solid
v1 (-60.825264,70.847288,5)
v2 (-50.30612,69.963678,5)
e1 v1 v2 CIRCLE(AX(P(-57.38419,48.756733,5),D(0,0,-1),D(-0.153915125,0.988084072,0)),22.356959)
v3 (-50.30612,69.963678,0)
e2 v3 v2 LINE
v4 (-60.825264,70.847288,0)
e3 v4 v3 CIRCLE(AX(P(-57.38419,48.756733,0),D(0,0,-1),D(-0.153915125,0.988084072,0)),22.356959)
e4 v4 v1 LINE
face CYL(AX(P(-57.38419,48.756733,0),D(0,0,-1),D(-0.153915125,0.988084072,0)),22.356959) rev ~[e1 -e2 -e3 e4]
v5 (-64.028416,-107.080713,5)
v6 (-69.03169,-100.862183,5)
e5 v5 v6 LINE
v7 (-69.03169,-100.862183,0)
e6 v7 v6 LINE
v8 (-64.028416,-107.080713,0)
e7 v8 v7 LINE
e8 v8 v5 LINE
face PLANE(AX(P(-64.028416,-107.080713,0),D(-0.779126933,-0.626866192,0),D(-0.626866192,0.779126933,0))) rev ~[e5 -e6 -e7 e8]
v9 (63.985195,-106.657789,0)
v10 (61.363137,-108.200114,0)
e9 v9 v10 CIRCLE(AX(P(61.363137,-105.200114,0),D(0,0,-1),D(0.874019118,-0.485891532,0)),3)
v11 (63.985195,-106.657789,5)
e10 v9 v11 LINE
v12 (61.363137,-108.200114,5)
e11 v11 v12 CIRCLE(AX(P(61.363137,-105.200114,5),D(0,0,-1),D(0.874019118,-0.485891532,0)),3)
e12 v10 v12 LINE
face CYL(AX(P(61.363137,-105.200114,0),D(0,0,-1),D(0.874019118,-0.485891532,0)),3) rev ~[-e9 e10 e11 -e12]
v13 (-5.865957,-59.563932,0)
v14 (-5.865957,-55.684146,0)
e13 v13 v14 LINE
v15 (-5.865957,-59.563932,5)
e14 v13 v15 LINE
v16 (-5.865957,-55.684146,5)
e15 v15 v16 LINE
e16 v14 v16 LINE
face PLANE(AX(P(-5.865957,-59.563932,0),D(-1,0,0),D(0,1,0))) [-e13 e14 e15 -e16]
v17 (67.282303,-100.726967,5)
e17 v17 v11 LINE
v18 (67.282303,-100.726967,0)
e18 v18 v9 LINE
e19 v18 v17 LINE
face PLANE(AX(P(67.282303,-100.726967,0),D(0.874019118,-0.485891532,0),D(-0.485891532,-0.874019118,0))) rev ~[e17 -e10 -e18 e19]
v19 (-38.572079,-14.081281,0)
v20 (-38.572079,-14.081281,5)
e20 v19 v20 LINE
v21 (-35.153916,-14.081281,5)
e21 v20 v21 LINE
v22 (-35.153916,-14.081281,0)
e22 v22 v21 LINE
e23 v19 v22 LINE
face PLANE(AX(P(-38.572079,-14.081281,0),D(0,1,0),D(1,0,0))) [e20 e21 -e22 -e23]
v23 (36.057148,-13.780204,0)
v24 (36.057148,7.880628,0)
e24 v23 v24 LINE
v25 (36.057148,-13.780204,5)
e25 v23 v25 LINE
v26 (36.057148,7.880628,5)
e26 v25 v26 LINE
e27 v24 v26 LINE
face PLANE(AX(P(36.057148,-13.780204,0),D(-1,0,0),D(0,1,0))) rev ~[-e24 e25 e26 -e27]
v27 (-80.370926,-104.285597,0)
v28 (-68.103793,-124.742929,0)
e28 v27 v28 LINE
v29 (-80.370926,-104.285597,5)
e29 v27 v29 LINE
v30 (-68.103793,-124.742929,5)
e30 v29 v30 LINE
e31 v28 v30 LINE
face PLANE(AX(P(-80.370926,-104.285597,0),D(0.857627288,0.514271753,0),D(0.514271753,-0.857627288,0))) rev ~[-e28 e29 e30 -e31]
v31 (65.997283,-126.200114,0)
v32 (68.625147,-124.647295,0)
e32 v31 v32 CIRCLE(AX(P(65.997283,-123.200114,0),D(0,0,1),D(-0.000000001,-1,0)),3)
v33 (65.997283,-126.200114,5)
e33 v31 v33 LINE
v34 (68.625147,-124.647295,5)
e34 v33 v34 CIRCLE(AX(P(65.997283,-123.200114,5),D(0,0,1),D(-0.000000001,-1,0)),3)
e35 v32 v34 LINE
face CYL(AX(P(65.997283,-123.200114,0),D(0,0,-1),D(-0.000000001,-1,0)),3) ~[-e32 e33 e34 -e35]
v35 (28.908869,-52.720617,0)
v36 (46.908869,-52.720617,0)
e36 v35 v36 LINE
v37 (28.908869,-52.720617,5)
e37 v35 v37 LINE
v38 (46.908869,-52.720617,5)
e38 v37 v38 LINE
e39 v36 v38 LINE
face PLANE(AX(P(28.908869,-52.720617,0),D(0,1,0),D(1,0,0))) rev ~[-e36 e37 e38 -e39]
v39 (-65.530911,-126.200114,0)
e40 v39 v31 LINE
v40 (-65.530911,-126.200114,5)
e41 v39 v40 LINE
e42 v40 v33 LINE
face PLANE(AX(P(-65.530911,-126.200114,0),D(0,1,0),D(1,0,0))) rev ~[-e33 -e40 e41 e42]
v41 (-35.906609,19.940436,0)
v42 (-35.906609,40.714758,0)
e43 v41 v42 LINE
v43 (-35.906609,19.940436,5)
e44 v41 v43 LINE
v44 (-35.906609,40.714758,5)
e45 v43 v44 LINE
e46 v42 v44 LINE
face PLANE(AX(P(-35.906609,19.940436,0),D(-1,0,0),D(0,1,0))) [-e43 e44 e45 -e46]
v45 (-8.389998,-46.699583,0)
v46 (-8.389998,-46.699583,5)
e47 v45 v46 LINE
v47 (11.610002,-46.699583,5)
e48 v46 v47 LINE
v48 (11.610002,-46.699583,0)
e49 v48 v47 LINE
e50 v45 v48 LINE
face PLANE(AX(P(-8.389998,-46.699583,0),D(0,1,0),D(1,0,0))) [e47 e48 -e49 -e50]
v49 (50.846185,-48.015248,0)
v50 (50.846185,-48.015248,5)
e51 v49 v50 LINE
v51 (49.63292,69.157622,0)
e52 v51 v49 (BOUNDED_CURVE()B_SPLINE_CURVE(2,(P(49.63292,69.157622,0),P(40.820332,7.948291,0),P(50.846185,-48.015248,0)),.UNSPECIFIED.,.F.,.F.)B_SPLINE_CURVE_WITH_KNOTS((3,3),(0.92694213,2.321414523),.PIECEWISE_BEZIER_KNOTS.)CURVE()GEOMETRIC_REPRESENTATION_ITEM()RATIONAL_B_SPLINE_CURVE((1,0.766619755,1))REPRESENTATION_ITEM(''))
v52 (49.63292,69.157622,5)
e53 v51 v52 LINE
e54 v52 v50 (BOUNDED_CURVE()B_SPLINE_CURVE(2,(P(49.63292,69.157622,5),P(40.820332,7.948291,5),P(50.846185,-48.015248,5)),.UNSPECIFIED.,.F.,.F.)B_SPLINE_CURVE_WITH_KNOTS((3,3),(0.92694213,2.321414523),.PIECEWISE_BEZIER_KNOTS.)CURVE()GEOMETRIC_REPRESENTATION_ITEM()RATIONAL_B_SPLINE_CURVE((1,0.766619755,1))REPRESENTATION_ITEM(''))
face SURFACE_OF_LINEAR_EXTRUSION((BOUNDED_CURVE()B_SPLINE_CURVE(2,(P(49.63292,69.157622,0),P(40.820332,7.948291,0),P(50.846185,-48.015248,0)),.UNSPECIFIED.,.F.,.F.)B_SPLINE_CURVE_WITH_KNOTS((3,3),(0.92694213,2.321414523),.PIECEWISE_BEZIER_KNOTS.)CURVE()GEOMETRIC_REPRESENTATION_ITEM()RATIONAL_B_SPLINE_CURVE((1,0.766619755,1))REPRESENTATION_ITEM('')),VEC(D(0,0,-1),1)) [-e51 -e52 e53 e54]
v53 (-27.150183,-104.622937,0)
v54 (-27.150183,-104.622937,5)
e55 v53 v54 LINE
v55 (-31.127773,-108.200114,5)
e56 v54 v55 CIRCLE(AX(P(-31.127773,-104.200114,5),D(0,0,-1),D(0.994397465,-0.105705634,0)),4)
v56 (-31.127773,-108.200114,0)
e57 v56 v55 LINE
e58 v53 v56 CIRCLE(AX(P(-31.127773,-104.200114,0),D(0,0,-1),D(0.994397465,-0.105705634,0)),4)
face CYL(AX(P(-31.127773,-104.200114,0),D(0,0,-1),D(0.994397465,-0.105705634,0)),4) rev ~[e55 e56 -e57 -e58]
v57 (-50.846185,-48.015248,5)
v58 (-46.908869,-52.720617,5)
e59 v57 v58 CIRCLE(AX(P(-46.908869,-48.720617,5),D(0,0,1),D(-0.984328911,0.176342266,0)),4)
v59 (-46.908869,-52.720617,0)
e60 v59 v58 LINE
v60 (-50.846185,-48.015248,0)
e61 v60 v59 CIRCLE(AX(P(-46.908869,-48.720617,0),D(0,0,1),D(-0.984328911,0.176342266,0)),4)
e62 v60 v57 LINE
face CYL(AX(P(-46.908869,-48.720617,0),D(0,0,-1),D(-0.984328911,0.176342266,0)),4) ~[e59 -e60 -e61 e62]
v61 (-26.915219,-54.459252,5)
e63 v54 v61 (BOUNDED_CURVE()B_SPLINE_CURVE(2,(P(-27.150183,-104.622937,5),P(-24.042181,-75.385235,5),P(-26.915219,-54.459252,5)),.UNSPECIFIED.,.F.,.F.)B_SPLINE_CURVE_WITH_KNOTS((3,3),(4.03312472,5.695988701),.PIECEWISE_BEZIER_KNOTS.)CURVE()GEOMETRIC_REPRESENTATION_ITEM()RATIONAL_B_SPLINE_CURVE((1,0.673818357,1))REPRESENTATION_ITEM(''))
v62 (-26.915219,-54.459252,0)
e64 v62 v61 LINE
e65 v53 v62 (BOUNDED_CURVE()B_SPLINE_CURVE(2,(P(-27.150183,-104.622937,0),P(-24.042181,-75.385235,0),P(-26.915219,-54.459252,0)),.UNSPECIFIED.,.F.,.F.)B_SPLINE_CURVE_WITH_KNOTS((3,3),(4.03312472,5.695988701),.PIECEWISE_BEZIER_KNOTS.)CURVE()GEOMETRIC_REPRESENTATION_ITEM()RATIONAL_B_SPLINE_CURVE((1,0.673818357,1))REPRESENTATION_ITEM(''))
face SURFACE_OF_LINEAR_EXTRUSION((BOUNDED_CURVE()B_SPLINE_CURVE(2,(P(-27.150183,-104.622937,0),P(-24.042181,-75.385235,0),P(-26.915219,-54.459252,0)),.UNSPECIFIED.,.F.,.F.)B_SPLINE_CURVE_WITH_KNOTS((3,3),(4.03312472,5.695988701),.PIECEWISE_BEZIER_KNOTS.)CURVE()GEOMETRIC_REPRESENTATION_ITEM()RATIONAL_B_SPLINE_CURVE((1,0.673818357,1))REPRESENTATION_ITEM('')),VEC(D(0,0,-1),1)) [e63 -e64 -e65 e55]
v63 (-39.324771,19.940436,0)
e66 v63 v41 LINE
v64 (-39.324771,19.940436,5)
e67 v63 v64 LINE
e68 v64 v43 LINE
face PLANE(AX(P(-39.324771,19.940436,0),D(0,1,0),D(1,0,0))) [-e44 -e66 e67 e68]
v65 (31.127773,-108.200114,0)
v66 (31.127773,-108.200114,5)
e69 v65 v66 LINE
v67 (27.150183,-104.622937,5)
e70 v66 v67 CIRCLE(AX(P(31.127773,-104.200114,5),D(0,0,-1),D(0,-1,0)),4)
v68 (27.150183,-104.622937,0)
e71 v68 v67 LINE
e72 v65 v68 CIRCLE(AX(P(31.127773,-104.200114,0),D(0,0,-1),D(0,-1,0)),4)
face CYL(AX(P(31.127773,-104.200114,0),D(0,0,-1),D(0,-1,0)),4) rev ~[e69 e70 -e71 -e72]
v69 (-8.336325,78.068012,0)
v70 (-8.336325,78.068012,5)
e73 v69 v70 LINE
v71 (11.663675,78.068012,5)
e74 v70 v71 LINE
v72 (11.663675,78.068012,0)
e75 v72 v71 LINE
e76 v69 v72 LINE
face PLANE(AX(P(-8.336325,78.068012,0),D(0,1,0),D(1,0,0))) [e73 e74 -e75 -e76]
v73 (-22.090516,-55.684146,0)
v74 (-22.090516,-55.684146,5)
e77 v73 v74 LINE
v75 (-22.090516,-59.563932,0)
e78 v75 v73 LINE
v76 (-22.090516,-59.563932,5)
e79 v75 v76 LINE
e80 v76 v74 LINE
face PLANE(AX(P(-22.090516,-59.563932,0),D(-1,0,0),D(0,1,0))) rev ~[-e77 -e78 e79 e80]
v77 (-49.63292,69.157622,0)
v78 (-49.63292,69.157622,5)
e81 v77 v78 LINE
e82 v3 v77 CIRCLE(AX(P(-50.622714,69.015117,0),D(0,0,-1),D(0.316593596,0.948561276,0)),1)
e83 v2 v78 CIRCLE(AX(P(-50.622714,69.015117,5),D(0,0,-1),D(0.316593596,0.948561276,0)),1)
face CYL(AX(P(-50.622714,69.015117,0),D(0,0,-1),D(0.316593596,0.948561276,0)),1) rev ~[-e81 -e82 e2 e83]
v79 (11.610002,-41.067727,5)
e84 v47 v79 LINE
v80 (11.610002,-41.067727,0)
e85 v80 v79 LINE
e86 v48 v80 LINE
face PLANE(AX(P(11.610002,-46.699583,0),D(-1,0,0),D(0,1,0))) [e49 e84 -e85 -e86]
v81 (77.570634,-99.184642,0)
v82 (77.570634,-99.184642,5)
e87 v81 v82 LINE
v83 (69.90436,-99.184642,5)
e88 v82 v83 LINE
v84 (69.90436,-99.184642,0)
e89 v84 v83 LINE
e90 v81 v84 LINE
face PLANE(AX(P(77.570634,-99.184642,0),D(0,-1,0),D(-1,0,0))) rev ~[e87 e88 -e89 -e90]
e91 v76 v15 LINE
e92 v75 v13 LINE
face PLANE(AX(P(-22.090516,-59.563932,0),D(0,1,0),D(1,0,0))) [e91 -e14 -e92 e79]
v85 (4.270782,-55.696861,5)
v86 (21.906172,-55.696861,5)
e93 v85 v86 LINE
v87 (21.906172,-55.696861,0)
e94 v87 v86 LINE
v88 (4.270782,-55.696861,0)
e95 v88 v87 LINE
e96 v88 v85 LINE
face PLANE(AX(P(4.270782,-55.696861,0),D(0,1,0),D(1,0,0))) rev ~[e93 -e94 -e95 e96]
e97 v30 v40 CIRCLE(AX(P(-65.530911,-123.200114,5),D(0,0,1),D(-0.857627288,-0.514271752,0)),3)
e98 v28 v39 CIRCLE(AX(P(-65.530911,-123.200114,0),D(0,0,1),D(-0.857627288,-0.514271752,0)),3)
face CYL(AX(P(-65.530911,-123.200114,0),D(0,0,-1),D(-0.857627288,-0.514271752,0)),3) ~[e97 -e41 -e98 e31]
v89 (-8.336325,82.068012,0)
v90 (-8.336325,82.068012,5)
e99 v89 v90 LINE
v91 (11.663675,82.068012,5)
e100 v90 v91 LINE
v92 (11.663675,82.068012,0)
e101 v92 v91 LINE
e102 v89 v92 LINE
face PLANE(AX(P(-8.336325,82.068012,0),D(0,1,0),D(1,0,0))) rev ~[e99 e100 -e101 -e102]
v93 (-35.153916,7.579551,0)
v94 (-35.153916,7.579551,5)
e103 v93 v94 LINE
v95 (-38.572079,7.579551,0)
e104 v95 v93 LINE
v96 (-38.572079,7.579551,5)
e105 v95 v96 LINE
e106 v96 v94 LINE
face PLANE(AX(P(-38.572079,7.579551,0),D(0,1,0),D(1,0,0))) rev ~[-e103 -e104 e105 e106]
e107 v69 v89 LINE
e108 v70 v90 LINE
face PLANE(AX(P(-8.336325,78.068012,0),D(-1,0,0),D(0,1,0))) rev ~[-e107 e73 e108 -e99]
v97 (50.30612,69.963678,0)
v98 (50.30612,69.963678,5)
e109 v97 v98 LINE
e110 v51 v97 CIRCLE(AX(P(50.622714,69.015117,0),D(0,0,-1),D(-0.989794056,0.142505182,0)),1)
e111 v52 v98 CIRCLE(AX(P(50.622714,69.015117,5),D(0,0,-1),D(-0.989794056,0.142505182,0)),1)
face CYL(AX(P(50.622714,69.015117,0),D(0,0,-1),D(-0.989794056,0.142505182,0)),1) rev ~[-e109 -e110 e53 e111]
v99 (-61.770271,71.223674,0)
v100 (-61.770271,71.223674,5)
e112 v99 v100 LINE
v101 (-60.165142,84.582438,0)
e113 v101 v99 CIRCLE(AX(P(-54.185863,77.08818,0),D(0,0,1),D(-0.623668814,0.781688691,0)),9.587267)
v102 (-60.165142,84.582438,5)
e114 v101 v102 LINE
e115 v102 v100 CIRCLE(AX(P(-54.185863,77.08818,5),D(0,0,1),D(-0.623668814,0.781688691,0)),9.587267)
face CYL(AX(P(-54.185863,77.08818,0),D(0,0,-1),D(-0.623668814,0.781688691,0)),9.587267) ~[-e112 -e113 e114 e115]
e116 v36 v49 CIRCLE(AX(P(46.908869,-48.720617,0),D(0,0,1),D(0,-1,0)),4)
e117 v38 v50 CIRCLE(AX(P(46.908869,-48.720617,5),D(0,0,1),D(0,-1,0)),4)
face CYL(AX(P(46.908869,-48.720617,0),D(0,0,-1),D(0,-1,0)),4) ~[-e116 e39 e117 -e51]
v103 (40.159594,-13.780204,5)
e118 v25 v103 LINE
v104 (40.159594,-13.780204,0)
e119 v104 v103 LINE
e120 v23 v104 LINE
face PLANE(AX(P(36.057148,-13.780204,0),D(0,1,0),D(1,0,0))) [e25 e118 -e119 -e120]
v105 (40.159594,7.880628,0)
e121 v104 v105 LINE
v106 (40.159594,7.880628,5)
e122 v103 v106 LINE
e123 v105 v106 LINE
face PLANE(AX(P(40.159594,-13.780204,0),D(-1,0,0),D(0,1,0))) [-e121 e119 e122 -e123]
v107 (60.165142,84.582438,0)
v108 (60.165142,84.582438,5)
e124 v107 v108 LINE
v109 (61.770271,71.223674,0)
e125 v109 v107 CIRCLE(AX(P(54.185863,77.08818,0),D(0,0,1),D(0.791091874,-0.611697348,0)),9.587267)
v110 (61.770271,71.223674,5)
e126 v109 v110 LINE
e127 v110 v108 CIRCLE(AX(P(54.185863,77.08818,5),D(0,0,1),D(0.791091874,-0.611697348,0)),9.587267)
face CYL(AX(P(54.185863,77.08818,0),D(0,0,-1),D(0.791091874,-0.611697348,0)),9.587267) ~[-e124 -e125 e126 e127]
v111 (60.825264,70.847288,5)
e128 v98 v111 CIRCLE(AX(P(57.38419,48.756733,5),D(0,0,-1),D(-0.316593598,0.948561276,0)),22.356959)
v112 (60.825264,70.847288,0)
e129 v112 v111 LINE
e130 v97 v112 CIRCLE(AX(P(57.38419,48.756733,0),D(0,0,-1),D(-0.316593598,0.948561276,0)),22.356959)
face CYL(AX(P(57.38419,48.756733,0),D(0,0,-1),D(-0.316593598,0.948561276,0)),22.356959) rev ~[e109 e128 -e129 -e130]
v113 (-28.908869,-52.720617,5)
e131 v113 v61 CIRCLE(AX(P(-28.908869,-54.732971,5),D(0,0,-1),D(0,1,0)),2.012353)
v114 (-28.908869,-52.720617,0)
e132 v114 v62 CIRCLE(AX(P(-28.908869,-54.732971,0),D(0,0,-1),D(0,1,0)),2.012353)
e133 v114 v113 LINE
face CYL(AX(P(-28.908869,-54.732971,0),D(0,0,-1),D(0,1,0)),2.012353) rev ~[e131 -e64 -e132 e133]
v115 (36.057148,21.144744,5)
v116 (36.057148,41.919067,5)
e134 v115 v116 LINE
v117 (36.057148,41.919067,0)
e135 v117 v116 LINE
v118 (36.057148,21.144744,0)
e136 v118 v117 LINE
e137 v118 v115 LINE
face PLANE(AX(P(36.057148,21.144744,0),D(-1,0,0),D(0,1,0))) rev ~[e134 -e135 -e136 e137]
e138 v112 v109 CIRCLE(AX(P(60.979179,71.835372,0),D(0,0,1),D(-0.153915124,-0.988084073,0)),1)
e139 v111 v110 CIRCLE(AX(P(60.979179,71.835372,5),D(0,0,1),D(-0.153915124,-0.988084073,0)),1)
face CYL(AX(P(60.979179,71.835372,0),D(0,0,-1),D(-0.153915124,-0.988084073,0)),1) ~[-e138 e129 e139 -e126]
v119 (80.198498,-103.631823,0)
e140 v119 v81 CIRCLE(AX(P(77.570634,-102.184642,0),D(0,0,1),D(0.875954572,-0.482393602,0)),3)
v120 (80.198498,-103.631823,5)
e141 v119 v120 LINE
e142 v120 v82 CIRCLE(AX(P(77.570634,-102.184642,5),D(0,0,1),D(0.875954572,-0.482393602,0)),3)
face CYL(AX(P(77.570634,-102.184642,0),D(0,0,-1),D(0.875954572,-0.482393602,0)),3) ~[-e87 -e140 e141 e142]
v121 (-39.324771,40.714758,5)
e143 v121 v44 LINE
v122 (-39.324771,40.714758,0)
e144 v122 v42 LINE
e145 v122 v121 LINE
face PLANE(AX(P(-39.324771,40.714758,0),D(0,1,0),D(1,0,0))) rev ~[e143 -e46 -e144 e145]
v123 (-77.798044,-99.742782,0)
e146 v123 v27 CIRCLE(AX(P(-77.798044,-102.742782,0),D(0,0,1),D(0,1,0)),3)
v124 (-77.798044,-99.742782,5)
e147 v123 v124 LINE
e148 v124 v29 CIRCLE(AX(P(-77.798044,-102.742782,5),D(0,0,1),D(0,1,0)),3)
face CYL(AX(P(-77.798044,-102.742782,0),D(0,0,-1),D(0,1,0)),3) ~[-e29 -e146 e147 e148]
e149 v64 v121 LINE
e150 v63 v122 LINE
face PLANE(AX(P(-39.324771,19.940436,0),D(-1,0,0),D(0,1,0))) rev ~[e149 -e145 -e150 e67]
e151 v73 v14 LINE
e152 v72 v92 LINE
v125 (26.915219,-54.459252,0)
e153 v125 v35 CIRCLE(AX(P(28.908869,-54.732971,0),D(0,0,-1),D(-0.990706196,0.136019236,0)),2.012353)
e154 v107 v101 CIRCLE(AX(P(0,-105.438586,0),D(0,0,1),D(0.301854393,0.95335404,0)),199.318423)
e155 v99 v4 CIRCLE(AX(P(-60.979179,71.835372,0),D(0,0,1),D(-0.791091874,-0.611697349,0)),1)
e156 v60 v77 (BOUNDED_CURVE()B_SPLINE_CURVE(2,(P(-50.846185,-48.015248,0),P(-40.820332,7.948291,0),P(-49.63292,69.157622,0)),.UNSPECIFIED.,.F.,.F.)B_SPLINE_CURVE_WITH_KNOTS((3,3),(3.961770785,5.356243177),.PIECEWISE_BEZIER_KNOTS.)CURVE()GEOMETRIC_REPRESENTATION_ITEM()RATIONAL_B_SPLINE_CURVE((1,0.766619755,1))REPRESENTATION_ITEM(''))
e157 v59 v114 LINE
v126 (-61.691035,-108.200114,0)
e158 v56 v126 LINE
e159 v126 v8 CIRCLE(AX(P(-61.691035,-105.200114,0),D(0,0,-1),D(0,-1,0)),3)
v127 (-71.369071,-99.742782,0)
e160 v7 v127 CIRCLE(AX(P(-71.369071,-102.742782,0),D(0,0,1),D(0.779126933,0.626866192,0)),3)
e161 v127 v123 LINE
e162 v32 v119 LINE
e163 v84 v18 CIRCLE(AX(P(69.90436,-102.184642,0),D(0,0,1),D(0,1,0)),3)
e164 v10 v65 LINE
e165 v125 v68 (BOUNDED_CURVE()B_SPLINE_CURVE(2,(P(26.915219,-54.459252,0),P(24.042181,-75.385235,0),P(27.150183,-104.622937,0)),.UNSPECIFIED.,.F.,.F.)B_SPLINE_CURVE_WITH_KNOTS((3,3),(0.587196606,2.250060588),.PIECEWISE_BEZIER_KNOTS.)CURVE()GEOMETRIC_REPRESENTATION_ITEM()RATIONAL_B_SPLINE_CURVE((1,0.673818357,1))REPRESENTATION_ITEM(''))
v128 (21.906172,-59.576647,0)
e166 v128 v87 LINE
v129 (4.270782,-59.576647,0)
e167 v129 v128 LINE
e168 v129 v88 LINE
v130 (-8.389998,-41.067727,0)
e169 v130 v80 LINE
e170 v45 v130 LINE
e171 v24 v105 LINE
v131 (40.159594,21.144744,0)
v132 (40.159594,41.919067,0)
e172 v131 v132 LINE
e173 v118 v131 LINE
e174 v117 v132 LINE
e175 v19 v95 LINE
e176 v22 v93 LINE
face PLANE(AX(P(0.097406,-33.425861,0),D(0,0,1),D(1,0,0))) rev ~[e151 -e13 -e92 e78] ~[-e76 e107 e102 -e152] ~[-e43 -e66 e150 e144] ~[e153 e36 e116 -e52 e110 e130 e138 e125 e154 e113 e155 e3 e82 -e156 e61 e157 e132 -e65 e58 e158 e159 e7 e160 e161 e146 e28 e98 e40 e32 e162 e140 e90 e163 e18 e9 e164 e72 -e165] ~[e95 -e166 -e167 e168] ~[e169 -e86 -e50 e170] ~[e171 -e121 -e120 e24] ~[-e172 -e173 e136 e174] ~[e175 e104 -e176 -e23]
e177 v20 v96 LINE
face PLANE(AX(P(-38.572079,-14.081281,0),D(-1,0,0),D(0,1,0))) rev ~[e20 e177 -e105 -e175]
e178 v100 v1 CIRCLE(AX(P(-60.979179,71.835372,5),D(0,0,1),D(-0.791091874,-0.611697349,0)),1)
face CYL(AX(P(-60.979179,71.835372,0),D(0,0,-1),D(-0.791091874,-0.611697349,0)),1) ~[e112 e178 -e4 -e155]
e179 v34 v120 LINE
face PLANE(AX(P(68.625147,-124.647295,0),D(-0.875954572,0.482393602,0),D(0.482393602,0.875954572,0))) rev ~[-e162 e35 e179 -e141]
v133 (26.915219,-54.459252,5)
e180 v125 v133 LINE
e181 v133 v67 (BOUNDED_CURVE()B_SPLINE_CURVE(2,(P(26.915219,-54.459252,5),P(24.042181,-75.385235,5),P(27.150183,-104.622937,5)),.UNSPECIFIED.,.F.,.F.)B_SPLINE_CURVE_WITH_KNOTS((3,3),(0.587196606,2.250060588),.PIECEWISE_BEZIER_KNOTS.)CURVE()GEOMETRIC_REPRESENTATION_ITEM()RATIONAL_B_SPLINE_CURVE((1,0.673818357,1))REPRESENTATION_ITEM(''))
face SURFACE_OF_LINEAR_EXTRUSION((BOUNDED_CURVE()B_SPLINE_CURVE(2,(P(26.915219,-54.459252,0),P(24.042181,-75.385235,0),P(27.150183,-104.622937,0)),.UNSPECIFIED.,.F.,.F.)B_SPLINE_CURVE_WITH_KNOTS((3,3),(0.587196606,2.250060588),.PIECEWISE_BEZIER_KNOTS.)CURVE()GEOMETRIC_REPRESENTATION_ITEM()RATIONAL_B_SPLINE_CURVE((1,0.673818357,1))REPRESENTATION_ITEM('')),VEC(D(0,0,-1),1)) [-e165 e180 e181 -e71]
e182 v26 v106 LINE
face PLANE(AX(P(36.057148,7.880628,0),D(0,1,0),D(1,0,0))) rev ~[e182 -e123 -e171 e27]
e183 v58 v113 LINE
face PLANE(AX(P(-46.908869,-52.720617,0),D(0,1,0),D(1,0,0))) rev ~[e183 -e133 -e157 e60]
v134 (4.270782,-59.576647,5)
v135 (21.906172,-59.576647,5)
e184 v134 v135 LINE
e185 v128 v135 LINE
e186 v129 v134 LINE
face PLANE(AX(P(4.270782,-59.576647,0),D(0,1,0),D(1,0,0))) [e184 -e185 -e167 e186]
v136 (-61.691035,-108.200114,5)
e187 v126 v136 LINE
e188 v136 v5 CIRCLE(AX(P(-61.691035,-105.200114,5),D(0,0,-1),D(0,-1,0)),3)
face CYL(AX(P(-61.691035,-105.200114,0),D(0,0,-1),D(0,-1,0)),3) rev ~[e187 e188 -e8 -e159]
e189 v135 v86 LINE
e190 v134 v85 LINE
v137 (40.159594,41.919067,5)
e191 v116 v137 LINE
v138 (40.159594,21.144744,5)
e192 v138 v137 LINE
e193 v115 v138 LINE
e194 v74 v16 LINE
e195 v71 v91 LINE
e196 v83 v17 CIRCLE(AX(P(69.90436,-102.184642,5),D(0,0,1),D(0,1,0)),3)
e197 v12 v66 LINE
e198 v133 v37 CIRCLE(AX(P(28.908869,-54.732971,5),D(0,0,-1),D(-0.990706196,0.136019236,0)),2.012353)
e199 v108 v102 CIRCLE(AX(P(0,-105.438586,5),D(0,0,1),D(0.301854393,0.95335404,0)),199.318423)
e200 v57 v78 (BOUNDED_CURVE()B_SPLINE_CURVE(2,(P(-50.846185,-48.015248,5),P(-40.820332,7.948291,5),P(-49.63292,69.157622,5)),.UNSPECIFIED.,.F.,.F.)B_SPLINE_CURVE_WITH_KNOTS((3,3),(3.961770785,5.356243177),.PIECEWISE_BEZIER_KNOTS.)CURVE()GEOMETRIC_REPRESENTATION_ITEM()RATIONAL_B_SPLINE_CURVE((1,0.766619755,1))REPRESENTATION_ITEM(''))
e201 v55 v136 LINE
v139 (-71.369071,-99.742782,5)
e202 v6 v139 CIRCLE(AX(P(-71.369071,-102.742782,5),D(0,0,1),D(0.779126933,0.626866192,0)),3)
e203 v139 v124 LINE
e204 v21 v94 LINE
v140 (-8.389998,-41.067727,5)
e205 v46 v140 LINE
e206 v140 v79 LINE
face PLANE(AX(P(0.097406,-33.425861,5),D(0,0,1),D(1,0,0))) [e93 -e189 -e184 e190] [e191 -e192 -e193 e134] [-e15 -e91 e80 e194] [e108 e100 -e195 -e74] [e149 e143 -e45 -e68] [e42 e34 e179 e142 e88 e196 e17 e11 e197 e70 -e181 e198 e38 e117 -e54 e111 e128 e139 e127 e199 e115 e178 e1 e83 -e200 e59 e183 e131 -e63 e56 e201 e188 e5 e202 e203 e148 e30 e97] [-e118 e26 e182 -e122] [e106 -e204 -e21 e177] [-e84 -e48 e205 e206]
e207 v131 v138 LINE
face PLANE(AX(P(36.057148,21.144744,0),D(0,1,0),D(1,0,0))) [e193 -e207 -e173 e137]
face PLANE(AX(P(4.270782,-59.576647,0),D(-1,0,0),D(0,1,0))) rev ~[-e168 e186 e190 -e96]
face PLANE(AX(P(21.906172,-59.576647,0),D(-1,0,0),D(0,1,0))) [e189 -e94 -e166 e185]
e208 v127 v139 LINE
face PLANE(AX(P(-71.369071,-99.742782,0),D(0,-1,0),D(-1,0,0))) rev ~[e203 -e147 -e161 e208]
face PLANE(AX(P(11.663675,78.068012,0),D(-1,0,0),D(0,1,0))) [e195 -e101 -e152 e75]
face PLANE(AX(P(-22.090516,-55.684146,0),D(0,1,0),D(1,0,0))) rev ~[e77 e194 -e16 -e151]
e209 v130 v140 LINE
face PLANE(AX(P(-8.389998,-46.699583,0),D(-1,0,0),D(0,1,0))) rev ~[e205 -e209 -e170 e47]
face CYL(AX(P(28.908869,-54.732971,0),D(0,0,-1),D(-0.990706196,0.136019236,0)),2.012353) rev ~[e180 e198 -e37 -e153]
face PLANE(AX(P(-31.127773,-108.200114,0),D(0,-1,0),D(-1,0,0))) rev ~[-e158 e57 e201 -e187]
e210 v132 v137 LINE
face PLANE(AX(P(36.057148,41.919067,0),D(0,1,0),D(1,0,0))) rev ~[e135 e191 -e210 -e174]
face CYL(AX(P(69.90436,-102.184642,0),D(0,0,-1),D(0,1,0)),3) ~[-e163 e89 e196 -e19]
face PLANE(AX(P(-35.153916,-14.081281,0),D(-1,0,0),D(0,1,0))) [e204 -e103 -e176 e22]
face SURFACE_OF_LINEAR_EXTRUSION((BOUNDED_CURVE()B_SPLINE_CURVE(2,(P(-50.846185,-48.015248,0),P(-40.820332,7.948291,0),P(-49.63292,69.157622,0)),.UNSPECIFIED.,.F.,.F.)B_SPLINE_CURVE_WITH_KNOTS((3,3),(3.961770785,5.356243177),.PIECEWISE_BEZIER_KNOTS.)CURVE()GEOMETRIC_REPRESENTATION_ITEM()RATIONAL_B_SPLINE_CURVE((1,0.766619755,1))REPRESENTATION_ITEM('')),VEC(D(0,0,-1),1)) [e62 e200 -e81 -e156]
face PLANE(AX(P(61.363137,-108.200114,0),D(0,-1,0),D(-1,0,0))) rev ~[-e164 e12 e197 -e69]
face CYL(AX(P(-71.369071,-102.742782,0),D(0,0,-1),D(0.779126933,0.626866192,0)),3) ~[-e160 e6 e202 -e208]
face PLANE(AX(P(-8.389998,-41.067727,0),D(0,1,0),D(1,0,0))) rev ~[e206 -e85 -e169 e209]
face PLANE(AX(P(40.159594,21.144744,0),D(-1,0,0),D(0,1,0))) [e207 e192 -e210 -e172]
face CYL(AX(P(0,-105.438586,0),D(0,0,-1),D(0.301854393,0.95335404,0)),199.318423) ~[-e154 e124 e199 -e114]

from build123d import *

# Parameters (mm, degrees)
SKETCH1_W           = 20
SKETCH1_H           = 4
SKETCH1_W_2         = 17.635389858
SKETCH1_H_2         = 3.879785769
SKETCH1_W_3         = 4.102446126
SKETCH1_H_3         = 20.774322756
SKETCH1_H_4         = 21.660832558
SKETCH1_W_4         = 3.418162198
SKETCH1_H_5         = 5.631856247
SKETCH1_W_5         = 16.224558669
BOSS_EXTRUDE3_DEPTH = 5


with BuildPart() as part:
    # Sketch1 → Boss-Extrude3 (new body)
    with BuildSketch(Plane.XY):
        with BuildLine():
            Line((-46.908869484, -52.720617246), (-28.908869484, -52.720617246))
            ThreePointArc((-28.908869484, -52.720617246), (-27.586230621, -53.216332062), (-26.915218553, -54.459251828))
            add(Edge.make_bspline(
                [(-27.150183285, -104.622936523), (-24.042180825, -75.385235173), (-26.915218553, -54.459251828)],
                knots=[4.03312472, 4.03312472, 4.03312472, 5.695988701, 5.695988701, 5.695988701], degree=2, weights=[1, 0.673818357, 1]))
            ThreePointArc((-27.150183285, -104.622936523), (-28.453010553, -107.174276905), (-31.127773146, -108.200113985))
            Line((-31.127773146, -108.200113985), (-61.691034949, -108.200113985))
            ThreePointArc((-61.691034949, -108.200113985), (-62.986836684, -107.905829762), (-64.028415748, -107.080712561))
            Line((-64.028415748, -107.080712561), (-69.031690033, -100.862183312))
            ThreePointArc((-69.031690033, -100.862183312), (-70.073269096, -100.037066111), (-71.369070832, -99.742781887))
            Line((-71.369070832, -99.742781887), (-77.798044438, -99.742781887))
            ThreePointArc((-77.798044438, -99.742781887), (-80.408451089, -101.264344498), (-80.370926301, -104.285597145))
            Line((-80.370926301, -104.285597145), (-68.103793269, -124.742929243))
            ThreePointArc((-68.103793269, -124.742929243), (-67.009348795, -125.810520637), (-65.530911406, -126.200113985))
            Line((-65.530911406, -126.200113985), (65.997283419, -126.200113985))
            ThreePointArc((65.997283419, -126.200113985), (67.523464533, -125.782897602), (68.625147136, -124.647294791))
            Line((68.625147136, -124.647294791), (80.198497538, -103.631822855))
            ThreePointArc((80.198497538, -103.631822855), (80.153417437, -100.658460936), (77.570633821, -99.18464205))
            Line((77.570633821, -99.18464205), (69.904360471, -99.18464205))
            ThreePointArc((69.904360471, -99.18464205), (68.383344987, -99.598812996), (67.282303117, -100.726967452))
            Line((67.282303117, -100.726967452), (63.985194726, -106.657788583))
            ThreePointArc((63.985194726, -106.657788583), (62.884152857, -107.785943039), (61.363137372, -108.200113985))
            Line((61.363137372, -108.200113985), (31.127773146, -108.200113985))
            ThreePointArc((31.127773146, -108.200113985), (28.453010553, -107.174276905), (27.150183285, -104.622936523))
            add(Edge.make_bspline(
                [(26.915218553, -54.459251828), (24.042180825, -75.385235173), (27.150183285, -104.622936523)],
                knots=[0.587196606, 0.587196606, 0.587196606, 2.250060588, 2.250060588, 2.250060588], degree=2, weights=[1, 0.673818357, 1]))
            ThreePointArc((26.915218553, -54.459251828), (27.586230621, -53.216332062), (28.908869484, -52.720617246))
            Line((28.908869484, -52.720617246), (46.908869484, -52.720617246))
            ThreePointArc((46.908869484, -52.720617246), (49.976562122, -51.287573006), (50.846185128, -48.015248183))
            add(Edge.make_bspline(
                [(49.632919584, 69.157622076), (40.820331779, 7.94829107), (50.846185128, -48.015248183)],
                knots=[0.92694213, 0.92694213, 0.92694213, 2.321414523, 2.321414523, 2.321414523], degree=2, weights=[1, 0.766619755, 1]))
            ThreePointArc((49.632919584, 69.157622076), (49.855189189, 69.656136563), (50.306120041, 69.963678167))
            ThreePointArc((50.306120041, 69.963678167), (55.512793259, 71.035230988), (60.82526432, 70.847287719))
            ThreePointArc((60.82526432, 70.847287719), (61.349200112, 70.906348269), (61.770271319, 71.223674443))
            ThreePointArc((61.770271319, 71.223674443), (63.704662293, 78.231916543), (60.165141812, 84.582437823))
            ThreePointArc((60.165141812, 84.582437823), (0, 93.879837075), (-60.165141812, 84.582437823))
            ThreePointArc((-60.165141812, 84.582437823), (-63.704662293, 78.231916543), (-61.770271319, 71.223674443))
            ThreePointArc((-61.770271319, 71.223674443), (-61.349200112, 70.906348269), (-60.82526432, 70.847287719))
            ThreePointArc((-60.82526432, 70.847287719), (-55.512793259, 71.035230988), (-50.306120041, 69.963678167))
            ThreePointArc((-50.306120041, 69.963678167), (-49.855189189, 69.656136563), (-49.632919584, 69.157622076))
            add(Edge.make_bspline(
                [(-50.846185128, -48.015248183), (-40.820331779, 7.94829107), (-49.632919584, 69.157622076)],
                knots=[3.961770785, 3.961770785, 3.961770785, 5.356243177, 5.356243177, 5.356243177], degree=2, weights=[1, 0.766619755, 1]))
            ThreePointArc((-50.846185128, -48.015248183), (-49.976562122, -51.287573006), (-46.908869484, -52.720617246))
        make_face()
        with Locations((1.663675391, 80.068012143)):
            Rectangle(SKETCH1_W, SKETCH1_H, mode=Mode.SUBTRACT)
        with Locations((13.088476945, -57.636754326)):
            Rectangle(SKETCH1_W_2, SKETCH1_H_2, mode=Mode.SUBTRACT)
        with Locations((38.10837085, 31.531905503)):
            Rectangle(SKETCH1_W_3, SKETCH1_H_3, mode=Mode.SUBTRACT)
        with Locations((38.10837085, -2.949787997)):
            Rectangle(SKETCH1_W_3, SKETCH1_H_4, mode=Mode.SUBTRACT)
        with Locations((-37.615690315, 30.327596937)):
            Rectangle(SKETCH1_W_4, SKETCH1_H_3, mode=Mode.SUBTRACT)
        with Locations((-36.862997462, -3.250865139)):
            Rectangle(SKETCH1_W_4, SKETCH1_H_4, mode=Mode.SUBTRACT)
        with Locations((1.610001599, -43.883655008)):
            Rectangle(SKETCH1_W, SKETCH1_H_5, mode=Mode.SUBTRACT)
        with Locations((-13.978236501, -57.624038848)):
            Rectangle(SKETCH1_W_5, SKETCH1_H_2, mode=Mode.SUBTRACT)
    extrude(amount=BOSS_EXTRUDE3_DEPTH)


solid = part.part
